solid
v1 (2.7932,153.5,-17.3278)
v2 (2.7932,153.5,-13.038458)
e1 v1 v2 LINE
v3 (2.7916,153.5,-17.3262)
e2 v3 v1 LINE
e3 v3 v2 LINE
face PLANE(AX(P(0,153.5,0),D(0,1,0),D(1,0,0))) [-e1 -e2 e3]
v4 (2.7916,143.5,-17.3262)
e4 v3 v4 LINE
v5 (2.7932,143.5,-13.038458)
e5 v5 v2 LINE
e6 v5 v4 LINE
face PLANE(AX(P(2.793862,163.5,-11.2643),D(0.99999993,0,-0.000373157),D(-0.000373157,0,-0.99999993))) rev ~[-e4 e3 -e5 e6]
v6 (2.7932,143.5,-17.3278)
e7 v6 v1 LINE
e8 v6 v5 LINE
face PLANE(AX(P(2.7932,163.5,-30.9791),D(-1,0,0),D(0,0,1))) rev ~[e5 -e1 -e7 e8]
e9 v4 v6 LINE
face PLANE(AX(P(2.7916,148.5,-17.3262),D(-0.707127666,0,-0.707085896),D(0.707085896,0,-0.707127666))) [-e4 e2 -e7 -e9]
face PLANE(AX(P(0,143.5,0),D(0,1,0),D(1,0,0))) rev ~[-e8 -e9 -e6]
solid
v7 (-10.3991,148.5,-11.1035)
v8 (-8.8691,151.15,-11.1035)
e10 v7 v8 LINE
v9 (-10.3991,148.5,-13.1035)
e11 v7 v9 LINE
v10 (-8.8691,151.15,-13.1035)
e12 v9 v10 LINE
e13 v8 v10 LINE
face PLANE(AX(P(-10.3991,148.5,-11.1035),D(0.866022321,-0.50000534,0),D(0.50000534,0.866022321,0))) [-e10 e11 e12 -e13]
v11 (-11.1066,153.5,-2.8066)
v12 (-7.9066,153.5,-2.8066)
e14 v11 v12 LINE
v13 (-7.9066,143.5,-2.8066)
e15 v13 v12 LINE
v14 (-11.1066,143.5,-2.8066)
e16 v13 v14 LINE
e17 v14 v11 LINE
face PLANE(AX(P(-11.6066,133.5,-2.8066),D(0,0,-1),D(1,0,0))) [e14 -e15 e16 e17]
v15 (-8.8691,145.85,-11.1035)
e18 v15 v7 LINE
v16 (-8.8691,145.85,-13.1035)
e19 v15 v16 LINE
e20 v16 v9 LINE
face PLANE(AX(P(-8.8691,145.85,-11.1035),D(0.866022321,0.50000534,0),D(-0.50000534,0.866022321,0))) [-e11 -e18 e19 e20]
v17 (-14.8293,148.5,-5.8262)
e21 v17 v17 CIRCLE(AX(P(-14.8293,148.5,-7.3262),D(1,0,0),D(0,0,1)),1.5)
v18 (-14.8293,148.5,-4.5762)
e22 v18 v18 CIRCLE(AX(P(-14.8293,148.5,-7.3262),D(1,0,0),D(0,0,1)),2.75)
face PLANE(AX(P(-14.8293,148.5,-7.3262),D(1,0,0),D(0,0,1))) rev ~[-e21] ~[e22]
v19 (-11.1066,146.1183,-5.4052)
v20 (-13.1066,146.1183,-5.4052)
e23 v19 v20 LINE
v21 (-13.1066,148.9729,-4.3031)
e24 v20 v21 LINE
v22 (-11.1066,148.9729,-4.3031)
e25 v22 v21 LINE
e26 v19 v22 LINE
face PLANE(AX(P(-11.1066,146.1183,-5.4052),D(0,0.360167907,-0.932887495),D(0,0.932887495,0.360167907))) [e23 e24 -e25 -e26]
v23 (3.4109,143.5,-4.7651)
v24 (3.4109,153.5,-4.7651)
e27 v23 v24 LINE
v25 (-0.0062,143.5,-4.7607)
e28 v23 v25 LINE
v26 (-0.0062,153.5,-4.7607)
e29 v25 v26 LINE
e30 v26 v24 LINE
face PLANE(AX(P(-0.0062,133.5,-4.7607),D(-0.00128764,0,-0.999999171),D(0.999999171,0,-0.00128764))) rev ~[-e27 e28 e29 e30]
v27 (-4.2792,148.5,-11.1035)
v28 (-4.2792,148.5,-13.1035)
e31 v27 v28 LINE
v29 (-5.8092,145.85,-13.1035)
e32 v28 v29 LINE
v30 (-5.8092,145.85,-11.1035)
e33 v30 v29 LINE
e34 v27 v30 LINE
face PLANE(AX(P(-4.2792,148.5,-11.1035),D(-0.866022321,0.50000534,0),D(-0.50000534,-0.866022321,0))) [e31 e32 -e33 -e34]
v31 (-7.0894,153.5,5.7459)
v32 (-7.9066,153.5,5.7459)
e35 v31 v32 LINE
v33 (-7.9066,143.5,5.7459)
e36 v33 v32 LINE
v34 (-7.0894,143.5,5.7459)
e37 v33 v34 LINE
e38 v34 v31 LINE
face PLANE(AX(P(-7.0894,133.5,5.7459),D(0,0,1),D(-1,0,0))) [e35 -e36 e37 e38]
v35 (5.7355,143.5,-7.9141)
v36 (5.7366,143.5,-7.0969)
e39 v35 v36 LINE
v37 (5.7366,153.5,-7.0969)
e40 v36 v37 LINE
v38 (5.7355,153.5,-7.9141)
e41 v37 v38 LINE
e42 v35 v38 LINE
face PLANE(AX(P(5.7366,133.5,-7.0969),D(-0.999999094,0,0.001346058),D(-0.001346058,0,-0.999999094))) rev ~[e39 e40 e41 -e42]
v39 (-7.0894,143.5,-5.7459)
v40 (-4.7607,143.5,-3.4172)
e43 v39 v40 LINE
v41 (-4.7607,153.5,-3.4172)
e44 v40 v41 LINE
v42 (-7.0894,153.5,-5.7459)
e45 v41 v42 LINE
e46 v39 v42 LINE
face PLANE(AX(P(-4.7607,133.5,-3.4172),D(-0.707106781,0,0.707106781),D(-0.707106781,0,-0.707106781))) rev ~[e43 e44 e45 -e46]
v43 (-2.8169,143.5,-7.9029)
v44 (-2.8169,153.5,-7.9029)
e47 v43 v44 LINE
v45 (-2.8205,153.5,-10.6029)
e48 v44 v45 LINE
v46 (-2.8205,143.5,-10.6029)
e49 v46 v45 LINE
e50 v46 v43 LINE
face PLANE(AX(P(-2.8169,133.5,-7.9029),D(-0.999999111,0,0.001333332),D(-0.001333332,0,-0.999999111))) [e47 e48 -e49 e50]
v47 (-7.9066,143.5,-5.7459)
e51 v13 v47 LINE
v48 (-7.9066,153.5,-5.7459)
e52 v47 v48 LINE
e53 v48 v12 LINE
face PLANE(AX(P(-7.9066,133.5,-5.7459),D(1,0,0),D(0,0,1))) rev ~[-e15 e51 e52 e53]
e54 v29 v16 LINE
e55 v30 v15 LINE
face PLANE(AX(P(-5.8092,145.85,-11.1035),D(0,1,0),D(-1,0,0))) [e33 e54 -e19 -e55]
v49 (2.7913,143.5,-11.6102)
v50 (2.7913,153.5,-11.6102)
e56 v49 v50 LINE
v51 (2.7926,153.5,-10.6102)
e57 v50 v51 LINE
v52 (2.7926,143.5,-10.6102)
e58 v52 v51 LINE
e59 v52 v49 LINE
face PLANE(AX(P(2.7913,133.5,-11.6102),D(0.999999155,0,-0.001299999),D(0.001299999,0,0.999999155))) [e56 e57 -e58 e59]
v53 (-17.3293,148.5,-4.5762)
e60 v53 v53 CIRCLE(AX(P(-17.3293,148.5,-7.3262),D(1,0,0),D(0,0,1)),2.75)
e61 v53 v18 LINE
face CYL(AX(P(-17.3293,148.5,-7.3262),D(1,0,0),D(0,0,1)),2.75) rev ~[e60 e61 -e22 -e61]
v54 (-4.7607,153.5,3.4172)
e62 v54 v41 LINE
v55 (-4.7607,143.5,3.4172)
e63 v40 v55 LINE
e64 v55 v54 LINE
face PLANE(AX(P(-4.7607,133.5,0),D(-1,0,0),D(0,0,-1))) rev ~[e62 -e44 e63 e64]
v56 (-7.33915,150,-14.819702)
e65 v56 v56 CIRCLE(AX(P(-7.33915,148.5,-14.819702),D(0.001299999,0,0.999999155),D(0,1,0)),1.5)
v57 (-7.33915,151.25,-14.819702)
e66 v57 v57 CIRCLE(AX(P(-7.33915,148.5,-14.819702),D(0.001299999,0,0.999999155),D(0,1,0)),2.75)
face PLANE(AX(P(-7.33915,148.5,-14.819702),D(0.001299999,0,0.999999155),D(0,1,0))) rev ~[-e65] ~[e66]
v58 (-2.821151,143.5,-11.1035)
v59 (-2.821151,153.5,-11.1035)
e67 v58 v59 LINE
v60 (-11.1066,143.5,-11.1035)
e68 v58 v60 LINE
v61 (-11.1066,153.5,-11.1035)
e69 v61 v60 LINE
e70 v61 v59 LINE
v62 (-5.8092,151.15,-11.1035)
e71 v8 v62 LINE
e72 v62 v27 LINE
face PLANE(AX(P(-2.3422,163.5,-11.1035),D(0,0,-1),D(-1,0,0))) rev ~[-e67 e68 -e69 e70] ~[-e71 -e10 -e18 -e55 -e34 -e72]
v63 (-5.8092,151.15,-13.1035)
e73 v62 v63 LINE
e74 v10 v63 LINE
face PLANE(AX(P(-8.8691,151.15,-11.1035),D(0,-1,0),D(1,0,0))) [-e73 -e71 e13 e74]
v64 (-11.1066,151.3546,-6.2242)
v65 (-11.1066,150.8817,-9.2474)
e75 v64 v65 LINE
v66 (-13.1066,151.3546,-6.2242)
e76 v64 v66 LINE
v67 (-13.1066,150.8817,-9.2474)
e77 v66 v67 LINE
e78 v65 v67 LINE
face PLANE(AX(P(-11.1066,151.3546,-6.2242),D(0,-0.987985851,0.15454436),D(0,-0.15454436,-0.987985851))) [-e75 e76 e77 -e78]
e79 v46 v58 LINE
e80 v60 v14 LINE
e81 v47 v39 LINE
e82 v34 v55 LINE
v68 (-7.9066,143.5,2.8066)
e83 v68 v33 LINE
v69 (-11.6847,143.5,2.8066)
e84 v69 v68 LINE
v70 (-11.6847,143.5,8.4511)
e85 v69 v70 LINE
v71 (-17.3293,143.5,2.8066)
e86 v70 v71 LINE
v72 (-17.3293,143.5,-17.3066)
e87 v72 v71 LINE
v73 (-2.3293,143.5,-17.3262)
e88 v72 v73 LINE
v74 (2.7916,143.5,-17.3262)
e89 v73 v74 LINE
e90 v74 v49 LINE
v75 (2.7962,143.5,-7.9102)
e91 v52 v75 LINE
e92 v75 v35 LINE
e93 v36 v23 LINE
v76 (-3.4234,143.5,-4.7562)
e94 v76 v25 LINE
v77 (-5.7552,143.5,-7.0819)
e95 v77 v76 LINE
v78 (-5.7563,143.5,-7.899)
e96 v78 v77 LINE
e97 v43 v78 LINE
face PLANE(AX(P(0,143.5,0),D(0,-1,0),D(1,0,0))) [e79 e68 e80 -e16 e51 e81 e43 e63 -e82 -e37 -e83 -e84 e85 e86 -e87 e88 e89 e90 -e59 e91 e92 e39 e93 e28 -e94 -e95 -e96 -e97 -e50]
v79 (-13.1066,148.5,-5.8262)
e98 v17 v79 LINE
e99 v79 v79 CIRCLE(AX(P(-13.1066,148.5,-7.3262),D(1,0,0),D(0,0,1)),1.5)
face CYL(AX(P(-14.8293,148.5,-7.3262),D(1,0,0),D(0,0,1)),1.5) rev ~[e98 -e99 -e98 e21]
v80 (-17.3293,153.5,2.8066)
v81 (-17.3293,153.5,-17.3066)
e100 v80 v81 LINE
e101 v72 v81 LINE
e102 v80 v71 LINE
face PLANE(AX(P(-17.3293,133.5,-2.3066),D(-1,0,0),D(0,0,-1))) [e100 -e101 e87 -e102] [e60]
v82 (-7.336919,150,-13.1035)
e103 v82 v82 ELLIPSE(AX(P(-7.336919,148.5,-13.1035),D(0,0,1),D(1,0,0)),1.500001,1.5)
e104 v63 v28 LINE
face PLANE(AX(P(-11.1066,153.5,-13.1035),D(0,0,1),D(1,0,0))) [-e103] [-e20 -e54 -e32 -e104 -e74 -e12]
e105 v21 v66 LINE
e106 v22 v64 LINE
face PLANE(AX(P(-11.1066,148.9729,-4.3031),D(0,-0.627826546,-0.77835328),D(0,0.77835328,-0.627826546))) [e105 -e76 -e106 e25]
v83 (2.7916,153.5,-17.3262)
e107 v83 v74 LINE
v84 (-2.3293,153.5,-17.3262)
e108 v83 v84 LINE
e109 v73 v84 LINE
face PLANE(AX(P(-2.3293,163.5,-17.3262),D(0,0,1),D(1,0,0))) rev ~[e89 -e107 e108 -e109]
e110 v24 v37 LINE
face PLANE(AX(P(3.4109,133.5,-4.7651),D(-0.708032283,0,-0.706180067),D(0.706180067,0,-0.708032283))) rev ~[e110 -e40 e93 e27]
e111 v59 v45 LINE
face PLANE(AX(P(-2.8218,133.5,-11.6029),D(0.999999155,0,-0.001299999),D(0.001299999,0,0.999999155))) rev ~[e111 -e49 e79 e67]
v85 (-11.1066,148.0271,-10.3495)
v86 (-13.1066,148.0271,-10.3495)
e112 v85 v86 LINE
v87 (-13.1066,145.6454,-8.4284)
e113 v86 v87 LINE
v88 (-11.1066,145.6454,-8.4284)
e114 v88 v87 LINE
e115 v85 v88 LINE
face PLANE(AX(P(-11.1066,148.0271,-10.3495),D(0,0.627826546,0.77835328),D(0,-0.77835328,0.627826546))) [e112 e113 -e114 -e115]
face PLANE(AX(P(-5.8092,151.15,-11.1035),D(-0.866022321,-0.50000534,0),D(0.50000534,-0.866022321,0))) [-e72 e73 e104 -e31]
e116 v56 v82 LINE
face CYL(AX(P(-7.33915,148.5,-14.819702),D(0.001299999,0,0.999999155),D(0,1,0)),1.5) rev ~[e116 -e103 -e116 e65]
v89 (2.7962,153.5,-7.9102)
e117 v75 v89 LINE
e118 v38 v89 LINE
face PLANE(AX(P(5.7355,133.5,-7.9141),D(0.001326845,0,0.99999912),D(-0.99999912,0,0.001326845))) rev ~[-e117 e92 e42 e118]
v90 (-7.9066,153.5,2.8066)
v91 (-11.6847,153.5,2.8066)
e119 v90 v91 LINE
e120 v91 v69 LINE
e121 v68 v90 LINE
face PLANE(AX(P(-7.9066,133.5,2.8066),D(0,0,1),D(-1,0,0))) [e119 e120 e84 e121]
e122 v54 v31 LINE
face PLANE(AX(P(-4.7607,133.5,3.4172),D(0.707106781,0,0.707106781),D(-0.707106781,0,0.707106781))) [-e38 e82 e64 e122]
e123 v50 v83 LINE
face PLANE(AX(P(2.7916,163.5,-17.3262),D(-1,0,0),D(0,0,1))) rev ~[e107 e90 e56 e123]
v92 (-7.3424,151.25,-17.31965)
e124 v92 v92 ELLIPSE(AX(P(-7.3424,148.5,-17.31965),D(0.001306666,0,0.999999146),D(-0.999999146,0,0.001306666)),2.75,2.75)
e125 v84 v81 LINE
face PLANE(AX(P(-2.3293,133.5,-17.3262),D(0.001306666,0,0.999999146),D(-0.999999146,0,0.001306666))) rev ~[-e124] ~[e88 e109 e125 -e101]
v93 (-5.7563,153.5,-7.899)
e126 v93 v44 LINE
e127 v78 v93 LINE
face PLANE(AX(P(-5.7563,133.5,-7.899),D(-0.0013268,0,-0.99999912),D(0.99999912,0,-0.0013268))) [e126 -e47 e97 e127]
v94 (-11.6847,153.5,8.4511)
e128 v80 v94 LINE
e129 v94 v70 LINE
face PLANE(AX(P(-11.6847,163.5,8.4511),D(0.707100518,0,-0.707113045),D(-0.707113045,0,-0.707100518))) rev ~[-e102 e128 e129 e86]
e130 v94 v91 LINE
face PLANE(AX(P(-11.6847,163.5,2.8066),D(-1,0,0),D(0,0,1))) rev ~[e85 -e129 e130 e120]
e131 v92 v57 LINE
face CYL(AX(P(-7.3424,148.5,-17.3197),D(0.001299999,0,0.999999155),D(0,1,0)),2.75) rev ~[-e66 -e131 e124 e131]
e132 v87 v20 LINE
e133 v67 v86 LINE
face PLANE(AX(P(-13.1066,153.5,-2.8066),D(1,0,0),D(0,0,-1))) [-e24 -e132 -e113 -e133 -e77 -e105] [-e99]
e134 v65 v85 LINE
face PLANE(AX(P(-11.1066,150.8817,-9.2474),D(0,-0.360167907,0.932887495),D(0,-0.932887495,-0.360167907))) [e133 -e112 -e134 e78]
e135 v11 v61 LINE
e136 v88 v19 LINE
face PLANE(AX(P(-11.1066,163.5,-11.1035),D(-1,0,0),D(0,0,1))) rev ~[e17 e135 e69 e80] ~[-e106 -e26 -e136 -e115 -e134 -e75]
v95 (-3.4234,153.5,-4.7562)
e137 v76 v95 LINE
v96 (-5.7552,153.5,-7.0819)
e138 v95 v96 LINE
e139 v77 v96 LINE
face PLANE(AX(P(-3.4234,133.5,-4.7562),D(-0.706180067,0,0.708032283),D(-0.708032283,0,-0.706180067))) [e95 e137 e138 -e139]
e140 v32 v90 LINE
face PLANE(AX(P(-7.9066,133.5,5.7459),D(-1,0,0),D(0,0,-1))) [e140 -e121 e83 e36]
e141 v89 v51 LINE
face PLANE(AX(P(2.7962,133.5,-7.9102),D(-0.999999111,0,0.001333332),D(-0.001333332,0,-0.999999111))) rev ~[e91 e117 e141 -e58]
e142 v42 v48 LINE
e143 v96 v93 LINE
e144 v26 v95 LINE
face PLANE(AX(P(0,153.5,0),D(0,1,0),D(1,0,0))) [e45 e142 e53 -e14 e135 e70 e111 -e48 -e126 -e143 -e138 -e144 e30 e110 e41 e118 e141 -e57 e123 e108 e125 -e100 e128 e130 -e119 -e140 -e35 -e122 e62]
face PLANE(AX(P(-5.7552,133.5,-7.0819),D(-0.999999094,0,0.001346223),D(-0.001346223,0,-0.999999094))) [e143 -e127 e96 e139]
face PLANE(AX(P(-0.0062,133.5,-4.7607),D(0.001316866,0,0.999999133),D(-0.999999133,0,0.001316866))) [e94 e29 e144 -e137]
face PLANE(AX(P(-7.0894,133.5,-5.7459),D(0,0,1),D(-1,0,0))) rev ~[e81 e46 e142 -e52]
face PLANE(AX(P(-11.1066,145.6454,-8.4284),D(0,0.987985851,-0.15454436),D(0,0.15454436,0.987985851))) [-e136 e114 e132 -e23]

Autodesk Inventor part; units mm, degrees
ref_plane "Work Plane1" through (0, 133.5, 0) normal (0, 1, 0) x (1, 0, 0)
sketch "Sketch2" plane through (0, 133.5, 0) normal (0, 1, 0) x (1, 0, 0)
  line L0 (-4.7607, 0) -> (-4.7607, 3.4172)
  line L1 (-4.7607, 3.4172) -> (-7.0894, 5.7459)
  line L2 (-7.0894, 5.7459) -> (-7.9066, 5.7459)
  line L3 (-7.9066, 5.7459) -> (-7.9066, 2.8066)
  line L4 (0, 0) -> (-13.0213, 0) construction
  line L5 (-7.4066, 2.3066) -> (-7.4066, 5.2459)
  line L6 (-7.4066, 5.2459) -> (-7.2965, 5.2459)
  line L7 (-7.2965, 5.2459) -> (-5.2607, 3.2101)
  line L8 (-5.2607, 3.2101) -> (-5.2607, 0.2101)
  line L9 (-3.7133, 3.0016) -> (-3.0065, 3.7094) projected
  line L10 (0, 0) -> (0, 8.149) construction
  line L11 (-11.6066, 2.3066) -> (-17.3293, 2.3066)
  line L12 (-17.3293, 2.3066) -> (-17.3293, 17.3066)
  line L13 (-4.5607, 3.5) -> (-4.5607, -3.5) projected
  line L14 (-7.0066, 5.9459) -> (-4.5607, 3.5) projected
  line L15 (-8.5066, 5.9459) -> (-7.0066, 5.9459) projected
  line L16 (-8.5066, 3.0066) -> (-8.5066, 5.9459) projected
  line L17 (-10.6066, 2.8066) -> (-10.6066, 10.5927)
  line L18 (-11.6066, 2.3066) -> (-11.6066, 0)
  line L19 (-7.9066, 2.8066) -> (-10.6066, 2.8066)
  line L20 (-10.0066, 3.0066) -> (-8.5066, 3.0066) projected
  line L21 (-7.4066, 2.3066) -> (-11.1066, 2.3066)
  line L22 (-11.1066, 0) -> (-11.1066, 2.3066)
  line L23 (-5.2607, 0.2101) -> (-5.2607, 0)
  line L24 (-10.0066, 8.5066) -> (-10.0066, 3.0066) projected
  line L25 (-10.6066, 2.8066) -> (-11.1066, 2.8066) construction
  line L26 (0, 0) -> (-18.7935, 18.7689) construction
  line L27 (-11.6066, 0) -> (-11.6066, 2.3066)
  line L28 (-11.6066, 2.8066) -> (-11.6066, 2.3066)
  line L29 (-11.6066, 2.8066) -> (-10.6066, 2.8066)
  line L30 (-5.2607, 0) -> (-5.2607, 3.2101)
  line L31 (-7.2965, 5.2459) -> (-7.4066, 5.2459)
  line L32 (-7.4066, 2.3066) -> (-7.4066, 5.2459)
  line L33 (-7.4066, 2.3066) -> (-11.1066, 2.3066)
  line L34 (-11.1066, 0) -> (-11.1066, 2.3066)
  line L35 (-12.1161, 0) -> (-4.7607, 0)
  line L36 (-4.7607, 0) -> (-4.7607, -3.4172)
  line L37 (-4.7607, -3.4172) -> (-7.0894, -5.7459)
  line L38 (-7.0894, -5.7459) -> (-7.9066, -5.7459)
  line L39 (-7.9066, -5.7459) -> (-7.9066, -2.8066)
  line L40 (-7.4066, -2.3066) -> (-7.4066, -5.2459)
  line L41 (-7.4066, -5.2459) -> (-7.2965, -5.2459)
  line L42 (-7.2965, -5.2459) -> (-5.2607, -3.2101)
  line L43 (-5.2607, -3.2101) -> (-5.2607, -0.2101)
  line L44 (-7.0066, -5.9459) -> (-4.5607, -3.5)
  line L45 (-8.5066, -5.9459) -> (-7.0066, -5.9459)
  line L46 (-8.5066, -3.0066) -> (-8.5066, -5.9459)
  line L47 (-11.6066, -2.3066) -> (-11.6066, 0)
  line L48 (-7.9066, -2.8066) -> (-10.6066, -2.8066)
  line L49 (-10.0066, -3.0066) -> (-8.5066, -3.0066)
  line L50 (-7.4066, -2.3066) -> (-11.1066, -2.3066)
  line L51 (-11.1066, 0) -> (-11.1066, -2.3066)
  line L52 (-5.2607, -0.2101) -> (-5.2607, 0)
  line L53 (-10.6066, -2.8066) -> (-11.1066, -2.8066) construction
  line L54 (-11.6066, 0) -> (-11.6066, -2.3066)
  line L55 (-11.6066, -2.8066) -> (-11.6066, -2.3066)
  line L56 (-11.6066, -2.8066) -> (-10.6066, -2.8066)
  line L57 (-5.2607, 0) -> (-5.2607, -3.2101)
  line L58 (-7.2965, -5.2459) -> (-7.4066, -5.2459)
  line L59 (-7.4066, -2.3066) -> (-7.4066, -5.2459)
  line L60 (-7.4066, -2.3066) -> (-11.1066, -2.3066)
  line L61 (-11.1066, 0) -> (-11.1066, -2.3066)
  line L62 (-0.0062, 4.7607) -> (-3.4234, 4.7562)
  line L63 (-3.4234, 4.7562) -> (-5.7552, 7.0819)
  line L64 (-5.7552, 7.0819) -> (-5.7563, 7.899)
  line L65 (-5.7563, 7.899) -> (-2.8169, 7.9029)
  line L66 (-2.3163, 7.4035) -> (-5.2556, 7.3997)
  line L67 (-5.2556, 7.3997) -> (-5.2555, 7.2896)
  line L68 (-5.2555, 7.2896) -> (-3.2169, 5.2564)
  line L69 (-3.2169, 5.2564) -> (-0.217, 5.2604)
  line L70 (-3.0065, 3.7094) -> (-3.7133, 3.0016)
  line L71 (-2.3218, 11.6035) -> (-2.3293, 17.3262)
  line L72 (-2.3293, 17.3262) -> (-17.3293, 17.3066)
  line L73 (-5.9551, 6.9988) -> (-3.506, 4.5561)
  line L74 (-5.9571, 8.4988) -> (-5.9551, 6.9988)
  line L75 (-3.0177, 8.5026) -> (-5.9571, 8.4988)
  line L76 (-2.8205, 10.6029) -> (-10.6066, 10.5927)
  line L77 (-2.3218, 11.6035) -> (-0.0152, 11.6065)
  line L78 (-2.8169, 7.9029) -> (-2.8205, 10.6029)
  line L79 (-3.0197, 10.0026) -> (-3.0177, 8.5026)
  line L80 (-2.3163, 7.4035) -> (-2.3211, 11.1035)
  line L81 (-0.0146, 11.1066) -> (-2.3211, 11.1035)
  line L82 (-0.217, 5.2604) -> (-0.0069, 5.2607)
  line L83 (-8.5197, 9.9954) -> (-3.0197, 10.0026)
  line L84 (-2.8205, 10.6029) -> (-2.8211, 11.1029) construction
  line L85 (-0.0152, 11.6065) -> (-2.3218, 11.6035)
  line L86 (-2.8218, 11.6029) -> (-2.3218, 11.6035)
  line L87 (-2.8218, 11.6029) -> (-2.8205, 10.6029)
  line L88 (-0.0069, 5.2607) -> (-3.2169, 5.2564)
  line L89 (-5.2555, 7.2896) -> (-5.2556, 7.3997)
  line L90 (-2.3163, 7.4035) -> (-5.2556, 7.3997)
  line L91 (-2.3163, 7.4035) -> (-2.3211, 11.1035)
  line L92 (-0.0146, 11.1066) -> (-2.3211, 11.1035)
  line L93 (-0.0159, 12.1161) -> (-0.0062, 4.7607)
  line L94 (0.2031, 5.2609) -> (-0.0069, 5.2607)
  line L95 (5.7366, 7.0969) -> (5.7355, 7.9141)
  line L96 (5.2362, 7.4134) -> (5.2363, 7.3034)
  line L97 (5.7355, 7.9141) -> (2.7962, 7.9102)
  line L98 (2.2968, 7.4096) -> (5.2362, 7.4134)
  line L99 (5.2363, 7.3034) -> (3.2031, 5.2649)
  line L100 (3.4109, 4.7651) -> (5.7366, 7.0969)
  line L101 (-0.0062, 4.7607) -> (3.4109, 4.7651)
  line L102 (2.9934, 10.0105) -> (2.9954, 8.5105)
  line L103 (2.7913, 11.6102) -> (2.7926, 10.6102)
  line L104 (2.7913, 11.6102) -> (2.2913, 11.6096)
  line L105 (2.7962, 7.9102) -> (2.7926, 10.6102)
  line L106 (2.2968, 7.4096) -> (5.2362, 7.4134)
  line L107 (2.2913, 11.6096) -> (-0.0152, 11.6065)
  line L108 (-0.0146, 11.1066) -> (2.292, 11.1096)
  line L109 (-0.0146, 11.1066) -> (2.292, 11.1096)
  line L110 (3.2031, 5.2649) -> (0.2031, 5.2609)
  line L111 (0.2031, 5.2609) -> (-0.0069, 5.2607)
  line L112 (-0.0069, 5.2607) -> (3.2031, 5.2649)
  line L113 (-0.0152, 11.6065) -> (2.2913, 11.6096)
  line L114 (5.2363, 7.3034) -> (5.2362, 7.4134)
  line L115 (5.9367, 7.0144) -> (3.494, 4.5652)
  line L116 (2.2968, 7.4096) -> (2.292, 11.1096)
  line L117 (2.2968, 7.4096) -> (2.292, 11.1096)
  line L118 (2.7926, 10.6102) -> (2.792, 11.1102) construction
  line L119 (-0.217, 5.2604) -> (-0.0069, 5.2607)
  line L120 (-2.8218, 11.6029) -> (-2.8286, 16.8256)
  line L121 (-2.8286, 16.8256) -> (-16.8293, 16.8072)
  line L122 (-16.8293, 16.8072) -> (-16.8293, 2.8066)
  line L123 (-16.8293, 2.8066) -> (-11.6066, 2.8066)
  point P0 (-9.2566, 2.3066)
  point P1 (-9.2566, 2.8066)
  point P2 (-9.2566, -2.3066)
  point P3 (-9.2566, -2.8066)
  point P4 (-0.0171, 13.0213)
  point P5 (-2.3187, 9.2535)
  point P6 (-2.8187, 9.2529)
  point P7 (-0.0214, 8.1489)
  point P8 (2.7944, 9.2602)
  point P9 (2.2944, 9.2596)
  point P10 (-5.2607, -0.2101)
  dimension "d73" = 3
  dimension "d74" = 0.2
  dimension "d75" = 0.5
  dimension "d76" = 0.2
  dimension "d77" = 0.2
  dimension "d78" = 0.6
  dimension "d79" = 0.2
  dimension "d80" = 0.5
  dimension "d81" = 0.5
  dimension "d82" = 15
  dimension "d83" = 0.6
  dimension "d84" = 0.5
  dimension "d86" = 0.5
extrude "Extrusion2" add sketch "Sketch2" along normal blind 30 contours L35 L23 L8 L7 L6 L5 L21 L22 L18 L28 L29 L19 L3 L2 L1 L0 | L36 L37 L38 L39 L48 L56 L55 L47 L35 L51 L50 L40 L41 L42 L43 L52 | L11 L12 L72 L71 L86 L120 L121 L122 L123 L28 | L87 L86 L77 L93 L81 L80 L66 L67 L68 L69 L82 L62 L63 L64 L65 L78 | L107 L104 L103 L105 L97 L95 L100 L101 L93 L94 L110 L99 L96 L98 L116 L108
sketch "Sketch8" plane through (0, 163.5, 0) normal (0, 1, 0) x (1, 0, 0)
  line L0 (2.7962, 7.9102) -> (2.7913, 11.6102) projected
  line L1 (-11.6066, 2.3066) -> (-11.6066, -2.8066) projected
  line L2 (-17.3293, 17.3066) -> (-17.3293, 2.3066) projected
  line L3 (-11.6066, -2.8066) -> (-17.3293, -2.8066)
  line L4 (-17.3293, -2.8066) -> (-17.3293, 2.3066)
  line L5 (-17.3293, 2.3066) -> (-11.6066, 2.3066)
  line L6 (-11.6066, 2.3066) -> (-11.6066, -2.8066)
  line L7 (-2.3293, 17.3262) -> (2.7916, 17.3262)
  line L8 (2.7916, 17.3262) -> (2.7916, 11.3851)
  line L9 (2.7916, 11.3851) -> (-2.3293, 11.3851)
  line L10 (-2.3293, 11.3851) -> (-2.3293, 17.3262)
  point P0 (0, 0)
extrude "Extrusion5" add sketch "Sketch8" against normal blind 30
sketch "Sketch10" plane through (0, 163.5, 0) normal (0, 1, 0) x (1, 0, 0)
  point P0 (0, 0)
sketch "Sketch11" plane through (0, 163.5, 0) normal (0, 1, 0) x (1, 0, 0)
  line L0 (-2.3211, 11.1035) -> (2.292, 11.1096) projected
  line L1 (-17.118, 17.0457) -> (-2.3422, 17.0457)
  line L2 (-2.3422, 17.0457) -> (-2.3422, 11.1035)
  line L3 (-2.3422, 11.1035) -> (-17.118, 11.1035)
  line L4 (-17.118, 11.1035) -> (-17.118, 17.0457)
  line L5 (-11.1066, 2.3066) -> (-7.4066, 2.3066) projected
  line L6 (-17.118, 17.0457) -> (-11.1066, 17.0457)
  line L7 (-11.1066, 17.0457) -> (-11.1066, 2.3066)
  line L8 (-11.1066, 2.3066) -> (-17.118, 2.3066)
  line L9 (-17.118, 2.3066) -> (-17.118, 17.0457)
  line L10 (-7.9066, -2.8066) -> (-17.3293, -2.8066) projected
  line L11 (-11.6847, -2.8066) -> (-11.6847, -8.4511)
  line L12 (-11.6847, -2.8066) -> (-6.0401, -2.8066) construction
  line L13 (-11.6847, -8.4511) -> (-17.3293, -2.8066)
  line L14 (2.7962, 7.9102) -> (2.7916, 11.3851) projected
  line L15 (2.7918, 11.2643) -> (8.8539, 11.2643)
  line L16 (2.7916, 17.3262) -> (-2.3293, 17.3262) projected
  line L17 (2.7916, 17.3262) -> (8.8539, 11.2643)
  line L18 (2.7947, 9.0187) -> (2.7916, 17.3262)
  point P0 (0, 0)
  point P1 (-11.1066, 11.1035)
  point P2 (2.7939, 11.2643)
  point P3 (2.7913, 11.6102)
  dimension "d147" = 45
  dimension "d149" = 44.999
extrude "Extrusion6" add sketch "Sketch11" against normal up to surface (30 mm away) contours L1 L7 L3 L4 | L1 L2 L3 L7 | L3 L7 L8 L9
extrude "Extrusion7" add sketch "Sketch11" against normal blind 30 contours L11 L13 L10 | L18 L17 L15
extrude "Extrusion8" add sketch "Sketch2" along normal up to surface (30 mm away) contours L35 L22 L21 L5 L6 L7 L8 L23 | L52 L43 L42 L41 L40 L50 L51 L35 | L93 L82 L69 L68 L67 L66 L80 L81 | L108 L116 L98 L96 L99 L110 L94 L93
sketch "Sketch6" plane through (-11.6066, 133.5, -2.3066) normal (-1, 0, 0) x (0, 0, 1)
  line L0 (-15, 30) -> (0, 30) projected
  line L1 (0, 30) -> (5.1131, 30) projected
  line L2 (0, 30) -> (5.1131, 30)
  line L3 (2.5566, 30) -> (2.5566, 0)
  line L4 (0, 0) -> (5.1131, 0) projected
  circle A0 centre (2.5566, 15) radius 2.5
  dimension "d121" = 5
sketch "Sketch7" plane through (-2.3218, 133.5, -11.6035) normal (-0.0013, 0, -1) x (-1, 0, 0.0013)
  line L0 (-5.1131, 0) -> (-5.1131, 30) projected
  line L1 (0, 30) -> (15, 30) projected
  line L2 (-5.1131, 30) -> (0, 30)
  line L3 (-2.5566, 30) -> (-2.5566, 0)
  line L4 (0, 0) -> (-4.6131, 0) projected
  circle A0 centre (-2.5566, 15) radius 2.5
  dimension "d122" = 5
ref_plane "Work Plane2" through (0, 148.5, 0) normal (0, 1, 0) x (1, 0, 0)
sketch "Sketch13" plane through (0, 148.5, 0) normal (0, 1, 0) x (1, 0, 0)
  line L0 (14.8441, 67.8647) -> (-12.7331, 95.4419) construction
  line L1 (-12.7331, 95.4419) -> (-32.8856, 75.2893) construction
  line L2 (-32.8856, 75.2893) -> (-5.3085, 47.7122) construction
  line L3 (-5.3085, 47.7122) -> (14.8441, 67.8647) construction
  line L4 (-2.3293, 17.3262) -> (-17.3293, 17.3066) projected
  line L5 (0, 0) -> (-17.3293, 17.3066) construction
  line L6 (-17.3293, 17.3066) -> (-17.3293, 17.3066) construction
  line L7 (-39.3305, 39.3078) -> (-18.1173, 60.521) construction
  line L8 (-17.3293, 17.3066) -> (-17.3293, -2.8066) projected
  line L9 (-17.3293, 17.3066) -> (-42.078, 42.0553) construction
  line L10 (-42.078, 42.0553) -> (-20.8648, 63.2685) construction
  line L11 (20.1474, 71.7538) -> (-3.8943, 47.7122)
  line L12 (-49.1491, 77.4106) -> (-6.7227, 34.9842) construction
  line L13 (-6.7227, 34.9842) -> (-35.0069, 6.7) construction
  line L14 (-35.0069, 6.7) -> (-77.4334, 49.1264) construction
  line L15 (-77.4334, 49.1264) -> (-49.1491, 77.4106) construction
  line L16 (-49.1491, 77.4106) -> (-35.0069, 6.7) construction
  line L17 (-6.7227, 34.9842) -> (-77.4334, 49.1264) construction
  line L18 (-84.5025, 56.1955) -> (-27.9339, -0.3731) construction
  line L19 (-27.9339, -0.3731) -> (-35.005, -7.4441) construction
  line L20 (-35.005, -7.4441) -> (-91.5735, 49.1244) construction
  line L21 (-91.5735, 49.1244) -> (-84.5025, 56.1955) construction
  line L22 (-84.5025, 56.1955) -> (-35.005, -7.4441) construction
  line L23 (-27.9339, -0.3731) -> (-91.5735, 49.1244) construction
  line L24 (-56.2182, 84.4797) -> (0.3504, 27.9112) construction
  line L25 (0.3504, 27.9112) -> (7.4214, 34.9823) construction
  line L26 (7.4214, 34.9823) -> (-49.1471, 91.5508) construction
  line L27 (34.4866, -31.2721) -> (31.3132, -31.2721) construction
  line L28 (-30.5205, 27.2872) -> (-27.9594, 27.2872) construction
  line L29 (-29.24, 26.4576) -> (-29.24, 28.1733) construction
  line L30 (-32.8856, 75.2893) -> (-35.005, 77.4087) construction
  line L31 (-3.8943, 47.7122) -> (25.244, 47.7122) construction
  line L32 (-3.0114, 46.8293) -> (-3.7185, 46.1222) construction
  line L33 (-3.8943, 47.7122) -> (-33.9077, 77.7257) construction
  line L34 (-3.8943, 47.7122) -> (38.5512, 47.7122) construction
  line L35 (-2.3293, 17.3262) -> (2.7916, 17.3262) projected
  line L36 (2.7916, 17.3262) -> (14.6413, 29.1766)
  line L37 (2.7916, 17.3262) -> (8.8539, 11.2643) projected
  line L38 (8.8539, 11.2643) -> (26.7661, 29.1766)
  line L39 (8.8539, 11.2643) -> (34.1856, 11.2643) construction
  line L40 (26.7661, 29.1766) -> (14.6413, 29.1766) construction
  line L41 (26.7661, 29.1766) -> (9.2392, 46.7035)
  line L42 (26.7661, 29.1766) -> (66.5529, 29.1766) construction
  line L43 (9.2392, 46.7035) -> (34.2895, 71.7538)
  line L44 (9.2392, 46.7035) -> (44.6657, 46.7035) construction
  line L45 (10.4159, 62.0223) -> (17.487, 54.9513) construction
  line L46 (10.4159, 62.0223) -> (20.4159, 62.0223) construction
  line L47 (8.8539, 11.2643) -> (2.7916, 17.3262)
  line L48 (-27.1184, 82.4708) -> (-4.1184, 82.4708) construction
  line L49 (15.4451, 17.8556) -> (9.3827, 23.9177) construction
  line L50 (20.1474, 71.7538) -> (3.8839, 88.0172)
  line L51 (20.1474, 71.7538) -> (43.1474, 71.7538) construction
  line L52 (34.2895, 71.7538) -> (10.955, 95.0883)
  line L53 (34.2895, 71.7538) -> (67.2895, 71.7538) construction
  line L54 (10.955, 95.0883) -> (3.8839, 88.0172) construction
  line L55 (-20.8648, 63.2685) -> (3.8839, 88.0172) construction
  line L56 (-12.3795, 104.2807) -> (-36.4212, 80.2391)
  line L57 (-37.4298, 93.3725) -> (-12.3795, 118.4228)
  line L58 (-12.3795, 104.2807) -> (3.8839, 88.0172)
  line L59 (-12.3795, 118.4228) -> (10.955, 95.0883)
  line L60 (-37.4298, 93.3725) -> (-43.4922, 87.3101)
  line L61 (-37.4298, 93.3725) -> (-28.8563, 93.3725) construction
  line L62 (-43.4922, 87.3101) -> (-36.4212, 80.2391)
  line L63 (-7.3926, 51.2105) -> (-8.0997, 50.5034) construction
  line L64 (9.4143, 82.4868) -> (16.4854, 89.5579) construction
  line L65 (-27.8481, 88.8121) -> (-34.9192, 95.8832) construction
  line L66 (-3.8943, 47.7122) -> (14.6413, 29.1766)
  point P0 (-29.3501, 73.168)
  point P1 (-59.7537, 24.3757)
  point P2 (-0.0052, 84.1282)
  dimension "d147" = 45
  dimension "d203" = 45
  dimension "d204" = 4
  dimension "d127" = 28.5
  dimension "d129" = 30
  dimension "d131" = 35
  dimension "d132" = 17
  dimension "d134" = 60
  dimension "d136" = 40
  dimension "d137" = 80
  dimension "d138" = 10
  dimension "d139" = 135
  dimension "d140" = 1
  dimension "d144" = 1
  dimension "d145" = 135
  dimension "d150" = 45
  dimension "d151" = 45
  dimension "d152" = 135
  dimension "d153" = 45
  dimension "d157" = 45
  dimension "d158" = 10
  dimension "d164" = 23
  dimension "d165" = 135
  dimension "d166" = 135
  dimension "d167" = 90
  dimension "d169" = 90
  dimension "d170" = 135
  dimension "d192" = 1
  dimension "d193" = 10
  dimension "d194" = 10
  dimension "d195" = 34
  dimension "d196" = 90
extrude "Extrusion11" add sketch "Sketch13" along normal mid plane 10
ref_plane "Work Plane4" through (0, 148.5, 0) normal (0, 1, 0) x (1, 0, 0)
sketch "Sketch16" plane through (0, 148.5, 0) normal (0, 1, 0) x (1, 0, 0)
  line L0 (20.1474, 71.7538) -> (-3.8943, 47.7122) projected
  line L1 (-3.8943, 47.7122) -> (20.1474, 71.7538)
  line L2 (20.1474, 71.7538) -> (-12.3795, 104.2807)
  line L3 (-12.3795, 104.2807) -> (-36.4212, 80.2391)
  line L4 (-35.658, 86.6591) -> (-12.3795, 109.9375)
  line L5 (-12.3795, 109.9375) -> (25.8042, 71.7538)
  line L6 (25.8042, 71.7538) -> (-1.0658, 44.8837)
  line L7 (-36.4212, 80.2391) -> (-12.3795, 104.2807)
  line L8 (-15.208, 107.1091) -> (-39.2496, 83.0675)
  line L9 (-39.2496, 83.0675) -> (-36.4212, 80.2391)
  line L10 (-1.0658, 44.8837) -> (-3.8943, 47.7122)
  line L11 (-3.8943, 47.7122) -> (14.6413, 29.1766) projected
  line L12 (-43.4922, 87.3101) -> (-36.4212, 80.2391) projected
  point P0 (0, 0)
  point P1 (12.3692, 58.3188)
  dimension "d180" = 4
  dimension "d181" = 4
  dimension "d182" = 46
  dimension "d183" = 4
extrude "Extrusion12" add sketch "Sketch16" against normal blind 19.25
extrude "Extrusion14" add sketch "Sketch16" along normal blind 14.25
sketch "Sketch18" plane through (0, 129.25, 0) normal (0, -1, 0) x (1, 0, 0)
  line L0 (-3.8943, -47.7122) -> (20.1474, -71.7538) projected
  line L1 (20.1474, -71.7538) -> (-3.8943, -47.7122)
  line L2 (-3.8943, -47.7122) -> (-36.4212, -80.2391)
  line L3 (-36.4212, -80.2391) -> (-12.3795, -104.2807)
  line L4 (-12.3795, -104.2807) -> (20.1474, -71.7538)
  point P0 (0, 0)
extrude "Extrusion15" add sketch "Sketch18" against normal blind 5
ref_plane "Work Plane5" through (-231821.5246, 143.5, 231819.1141) normal (0.7071, 0, 0.7071) x (0, 1, 0)
sketch "Sketch19" plane through (-231821.5246, 143.5, 231819.1141) normal (0.7071, 0, 0.7071) x (0, 1, 0)
  line L0 (20, -327857.6653) -> (10, -327857.6653) projected
  line L1 (17.5, -327857.6653) -> (10, -327865.1653)
  line L2 (10, -327874.4237) -> (10, -327857.6653) projected
  line L3 (17.5, -327857.6653) -> (28.1066, -327857.6653) construction
  line L4 (17.5, -327857.6653) -> (10, -327857.6653)
  line L5 (10, -327865.1653) -> (10, -327857.6653)
  dimension "d197" = 135
  dimension "d198" = 2.5
extrude "Extrusion16" add sketch "Sketch19" along normal mid plane 4
mirror "Mirror2" about plane through (0, 148.5, 0) normal (0, 1, 0) of "Extrusion16"
sketch "Sketch20" plane through (0, 148.5, 0) normal (0, 1, 0) x (1, 0, 0)
  line L0 (0, 0) -> (-56.5685, 56.5685) construction
  line L1 (0, 0) -> (80, 0) construction
  dimension "d201" = 80
  dimension "d202" = 135
sketch "Sketch21" plane through (0, 148.5, 0) normal (0, 1, 0) x (1, 0, 0)
  point P0 (0, 0)
sketch "Sketch22" plane through (0, 148.5, 0) normal (0, 1, 0) x (1, 0, 0)
  line L0 (23.9377, 32.005) -> (23.9377, 61.4019)
  line L1 (34.2895, 71.7538) -> (9.2392, 46.7035) projected
  line L2 (9.2392, 46.7035) -> (26.7661, 29.1766) projected
  line L3 (-1.0658, 44.8837) -> (14.6413, 29.1766) projected
  line L4 (7.6413, 36.1766) -> (7.6413, 22.1762)
  line L5 (14.6413, 29.1766) -> (2.7916, 17.3262) projected
  point P0 (0, 0)
  dimension "d203" = 45
  dimension "d204" = 4
  dimension "d207" = 45
  dimension "d208" = 7
extrude "Extrusion17" add sketch "Sketch22" along normal mid plane 4
sketch "Sketch23" plane through (0, 162.75, 0) normal (0, 1, 0) x (1, 0, 0)
  point P0 (0, 0)
sketch "Sketch25" plane through (0, 162.75, 0) normal (0, 1, 0) x (1, 0, 0)
  point P0 (0, 0)
sketch "Sketch26" plane through (0, 162.75, 0) normal (0, 1, 0) x (1, 0, 0)
  line L0 (-12.3795, 104.2807) -> (20.1474, 71.7538) projected
  line L1 (20.1474, 71.7538) -> (-12.3795, 104.2807)
  line L2 (-12.3795, 104.2807) -> (-36.4212, 80.2391)
  line L3 (-36.4212, 80.2391) -> (-3.8943, 47.7122)
  line L4 (-3.8943, 47.7122) -> (20.1474, 71.7538)
  line L5 (-37.1283, 80.2391) -> (-12.3795, 104.9878)
  line L6 (-12.3795, 104.9878) -> (20.8545, 71.7538)
  line L7 (20.8545, 71.7538) -> (-3.8943, 47.005)
  line L8 (-3.8943, 47.005) -> (-37.1283, 80.2391)
  point P0 (0, 0)
  dimension "d210" = 0.5
extrude "Extrusion18" cut sketch "Sketch26" against normal up to surface (28.5 mm away) contours L0 L4 L3 L2 | L5 L6 L7 L8
sketch "Sketch27" plane through (-17.3293, 133.5, -17.3066) normal (-1, 0, 0) x (0, 0, 1)
  line L0 (-0.0197, 20) -> (-0.0197, 10) projected
  line L1 (-0.0197, 15) -> (9.9803, 15) construction
  circle A0 centre (9.9803, 15) radius 1.5
  point P0 (17.3066, -133.5)
  dimension "d213" = 10
  dimension "d214" = 3
hole "Hole3" at (-17.3293, 148.5, -7.3262) direction (1, 0, 0) diameter 3 depth 8 tip angle 118 counterbore diameter 5.5 counterbore depth 2.5
sketch "Sketch28" plane through (-17.3293, 133.5, -17.3066) normal (-0.0013, 0, -1) x (-1, 0, 0.0013)
  ellipse E0 centre (0.0131, 15) end of major axis (0.0131, 12.25) minor radius 0.0036 projected
  line L0 (0.0131, 15) -> (-9.9869, 15) construction
  line L1 (0.0264, 30) -> (0.0264, 0) projected
  line L2 (0.0131, 15) -> (0.0264, 30) construction
  circle A0 centre (-9.9869, 15) radius 1.25
  point P0 (-17.3066, -133.5)
  dimension "d222" = 10
  dimension "d223" = 2.5
hole "Hole4" at (-7.3424, 148.5, -17.3197) direction (0.0013, 0, 1) diameter 3 depth 8 tip angle 118 counterbore diameter 5.5 counterbore depth 2.5
sketch "Sketch29" plane through (0, 163.5, 0) normal (0, 1, 0) x (1, 0, 0)
  line L0 (-17.3293, 17.3066) -> (-17.3293, -2.8066) projected
  line L1 (-17.3293, 17.3066) -> (46.0524, 17.3262)
  line L2 (46.0524, 17.3262) -> (46.0222, 114.3129)
  line L3 (46.0222, 114.3129) -> (-17.3594, 114.2932)
  line L4 (-17.3594, 114.2932) -> (-17.3293, 17.3066)
  line L5 (-110.0198, 149.1927) -> (107.7957, 149.2603)
  line L6 (107.7957, 149.2603) -> (107.8339, 26.2715)
  line L7 (107.8339, 26.2715) -> (-109.9816, 26.2039)
  line L8 (-109.9816, 26.2039) -> (-110.0198, 149.1927)
  line L9 (2.7916, 11.3851) -> (2.7916, 17.3262) projected
  line L10 (2.7916, 17.3262) -> (18.2078, 17.3176)
  line L11 (18.2078, 17.3176) -> (18.2026, 7.9013)
  line L12 (18.2026, 7.9013) -> (2.7863, 7.91)
  line L13 (2.7863, 7.91) -> (2.7916, 17.3262)
  point P0 (0, 0)
extrude "Extrusion19" cut sketch "Sketch29" against normal blind 800 contours L7 L4 L3 L2 | L2 L3 L4 L7 L8 L5 L6
sketch "Sketch30" plane through (0, 163.5, 0) normal (0, 1, 0) x (1, 0, 0)
  line L0 (2.7962, 7.9102) -> (2.7916, 11.3851) projected
  line L1 (2.7932, 10.184) -> (29.194, 10.184)
  line L2 (29.194, 10.184) -> (29.194, 30.9791)
  line L3 (29.194, 30.9791) -> (2.7932, 30.9791)
  line L4 (2.7932, 30.9791) -> (2.7932, 10.184)
  point P0 (0, 0)
extrude "Extrusion20" cut sketch "Sketch30" against normal blind 800
sketch "Sketch31" plane through (0, 163.5, 0) normal (0, 1, 0) x (1, 0, 0)
  line L0 (-21.2517, 19.0362) -> (12.6228, 19.0362)
  line L1 (12.6228, 19.0362) -> (12.6228, -13.439)
  line L2 (12.6228, -13.439) -> (-21.2517, -13.439)
  line L3 (-21.2517, -13.439) -> (-21.2517, 19.0362)
  point P0 (0, 0)
extrude "Extrusion21" cut sketch "Sketch31" against normal blind 10
sketch "Sketch32" plane through (0, 133.5, 0) normal (0, -1, 0) x (1, 0, 0)
  line L0 (-28.7146, 16.4708) -> (13.0892, 16.4708)
  line L1 (13.0892, 16.4708) -> (13.0892, -20.5521)
  line L2 (13.0892, -20.5521) -> (-28.7146, -20.5521)
  line L3 (-28.7146, -20.5521) -> (-28.7146, 16.4708)
  point P0 (0, 0)
extrude "Extrusion22" cut sketch "Sketch32" against normal blind 10
sketch "Sketch33" plane through (-11.1066, 153.5, -2.8066) normal (1, 0, 0) x (0, 0, -1)
  circle A0 centre (4.5197, -5) radius 1.5 projected
  line L0 (5.6218, -7.8546) -> (2.5986, -7.3817)
  line L1 (2.5986, -7.3817) -> (1.4965, -4.5271)
  line L2 (1.4965, -4.5271) -> (3.4176, -2.1454)
  line L3 (3.4176, -2.1454) -> (6.4408, -2.6183)
  line L4 (6.4408, -2.6183) -> (7.5429, -5.4729)
  line L5 (7.5429, -5.4729) -> (5.6218, -7.8546)
  point P0 (-2.8066, -153.5)
  dimension "d247" = 5.3
extrude "Extrusion23" cut sketch "Sketch33" against normal blind 2 contours A0 | L0 L1 L2 L3 L4 L5
sketch "Sketch34" plane through (-11.1066, 153.5, -11.1035) normal (0, 0, 1) x (1, 0, 0)
  ellipse E0 centre (3.7675, -5) end of major axis (3.7675, -3.5) minor radius 1.5 projected
  line L0 (6.8274, -5) -> (5.2974, -7.65)
  line L1 (5.2974, -7.65) -> (2.2375, -7.65)
  line L2 (2.2375, -7.65) -> (0.7075, -5)
  line L3 (0.7075, -5) -> (2.2375, -2.35)
  line L4 (2.2375, -2.35) -> (5.2974, -2.35)
  line L5 (5.2974, -2.35) -> (6.8274, -5)
  point P0 (11.1066, -153.5)
  dimension "d245" = 5.3
extrude "Extrusion24" cut sketch "Sketch34" against normal blind 2 contours E0 | L0 L1 L2 L3 L4 L5
equation "\"hole_diam\" = 5"
properties part number "motor_mount_fittest" material "ABS Plastic"
